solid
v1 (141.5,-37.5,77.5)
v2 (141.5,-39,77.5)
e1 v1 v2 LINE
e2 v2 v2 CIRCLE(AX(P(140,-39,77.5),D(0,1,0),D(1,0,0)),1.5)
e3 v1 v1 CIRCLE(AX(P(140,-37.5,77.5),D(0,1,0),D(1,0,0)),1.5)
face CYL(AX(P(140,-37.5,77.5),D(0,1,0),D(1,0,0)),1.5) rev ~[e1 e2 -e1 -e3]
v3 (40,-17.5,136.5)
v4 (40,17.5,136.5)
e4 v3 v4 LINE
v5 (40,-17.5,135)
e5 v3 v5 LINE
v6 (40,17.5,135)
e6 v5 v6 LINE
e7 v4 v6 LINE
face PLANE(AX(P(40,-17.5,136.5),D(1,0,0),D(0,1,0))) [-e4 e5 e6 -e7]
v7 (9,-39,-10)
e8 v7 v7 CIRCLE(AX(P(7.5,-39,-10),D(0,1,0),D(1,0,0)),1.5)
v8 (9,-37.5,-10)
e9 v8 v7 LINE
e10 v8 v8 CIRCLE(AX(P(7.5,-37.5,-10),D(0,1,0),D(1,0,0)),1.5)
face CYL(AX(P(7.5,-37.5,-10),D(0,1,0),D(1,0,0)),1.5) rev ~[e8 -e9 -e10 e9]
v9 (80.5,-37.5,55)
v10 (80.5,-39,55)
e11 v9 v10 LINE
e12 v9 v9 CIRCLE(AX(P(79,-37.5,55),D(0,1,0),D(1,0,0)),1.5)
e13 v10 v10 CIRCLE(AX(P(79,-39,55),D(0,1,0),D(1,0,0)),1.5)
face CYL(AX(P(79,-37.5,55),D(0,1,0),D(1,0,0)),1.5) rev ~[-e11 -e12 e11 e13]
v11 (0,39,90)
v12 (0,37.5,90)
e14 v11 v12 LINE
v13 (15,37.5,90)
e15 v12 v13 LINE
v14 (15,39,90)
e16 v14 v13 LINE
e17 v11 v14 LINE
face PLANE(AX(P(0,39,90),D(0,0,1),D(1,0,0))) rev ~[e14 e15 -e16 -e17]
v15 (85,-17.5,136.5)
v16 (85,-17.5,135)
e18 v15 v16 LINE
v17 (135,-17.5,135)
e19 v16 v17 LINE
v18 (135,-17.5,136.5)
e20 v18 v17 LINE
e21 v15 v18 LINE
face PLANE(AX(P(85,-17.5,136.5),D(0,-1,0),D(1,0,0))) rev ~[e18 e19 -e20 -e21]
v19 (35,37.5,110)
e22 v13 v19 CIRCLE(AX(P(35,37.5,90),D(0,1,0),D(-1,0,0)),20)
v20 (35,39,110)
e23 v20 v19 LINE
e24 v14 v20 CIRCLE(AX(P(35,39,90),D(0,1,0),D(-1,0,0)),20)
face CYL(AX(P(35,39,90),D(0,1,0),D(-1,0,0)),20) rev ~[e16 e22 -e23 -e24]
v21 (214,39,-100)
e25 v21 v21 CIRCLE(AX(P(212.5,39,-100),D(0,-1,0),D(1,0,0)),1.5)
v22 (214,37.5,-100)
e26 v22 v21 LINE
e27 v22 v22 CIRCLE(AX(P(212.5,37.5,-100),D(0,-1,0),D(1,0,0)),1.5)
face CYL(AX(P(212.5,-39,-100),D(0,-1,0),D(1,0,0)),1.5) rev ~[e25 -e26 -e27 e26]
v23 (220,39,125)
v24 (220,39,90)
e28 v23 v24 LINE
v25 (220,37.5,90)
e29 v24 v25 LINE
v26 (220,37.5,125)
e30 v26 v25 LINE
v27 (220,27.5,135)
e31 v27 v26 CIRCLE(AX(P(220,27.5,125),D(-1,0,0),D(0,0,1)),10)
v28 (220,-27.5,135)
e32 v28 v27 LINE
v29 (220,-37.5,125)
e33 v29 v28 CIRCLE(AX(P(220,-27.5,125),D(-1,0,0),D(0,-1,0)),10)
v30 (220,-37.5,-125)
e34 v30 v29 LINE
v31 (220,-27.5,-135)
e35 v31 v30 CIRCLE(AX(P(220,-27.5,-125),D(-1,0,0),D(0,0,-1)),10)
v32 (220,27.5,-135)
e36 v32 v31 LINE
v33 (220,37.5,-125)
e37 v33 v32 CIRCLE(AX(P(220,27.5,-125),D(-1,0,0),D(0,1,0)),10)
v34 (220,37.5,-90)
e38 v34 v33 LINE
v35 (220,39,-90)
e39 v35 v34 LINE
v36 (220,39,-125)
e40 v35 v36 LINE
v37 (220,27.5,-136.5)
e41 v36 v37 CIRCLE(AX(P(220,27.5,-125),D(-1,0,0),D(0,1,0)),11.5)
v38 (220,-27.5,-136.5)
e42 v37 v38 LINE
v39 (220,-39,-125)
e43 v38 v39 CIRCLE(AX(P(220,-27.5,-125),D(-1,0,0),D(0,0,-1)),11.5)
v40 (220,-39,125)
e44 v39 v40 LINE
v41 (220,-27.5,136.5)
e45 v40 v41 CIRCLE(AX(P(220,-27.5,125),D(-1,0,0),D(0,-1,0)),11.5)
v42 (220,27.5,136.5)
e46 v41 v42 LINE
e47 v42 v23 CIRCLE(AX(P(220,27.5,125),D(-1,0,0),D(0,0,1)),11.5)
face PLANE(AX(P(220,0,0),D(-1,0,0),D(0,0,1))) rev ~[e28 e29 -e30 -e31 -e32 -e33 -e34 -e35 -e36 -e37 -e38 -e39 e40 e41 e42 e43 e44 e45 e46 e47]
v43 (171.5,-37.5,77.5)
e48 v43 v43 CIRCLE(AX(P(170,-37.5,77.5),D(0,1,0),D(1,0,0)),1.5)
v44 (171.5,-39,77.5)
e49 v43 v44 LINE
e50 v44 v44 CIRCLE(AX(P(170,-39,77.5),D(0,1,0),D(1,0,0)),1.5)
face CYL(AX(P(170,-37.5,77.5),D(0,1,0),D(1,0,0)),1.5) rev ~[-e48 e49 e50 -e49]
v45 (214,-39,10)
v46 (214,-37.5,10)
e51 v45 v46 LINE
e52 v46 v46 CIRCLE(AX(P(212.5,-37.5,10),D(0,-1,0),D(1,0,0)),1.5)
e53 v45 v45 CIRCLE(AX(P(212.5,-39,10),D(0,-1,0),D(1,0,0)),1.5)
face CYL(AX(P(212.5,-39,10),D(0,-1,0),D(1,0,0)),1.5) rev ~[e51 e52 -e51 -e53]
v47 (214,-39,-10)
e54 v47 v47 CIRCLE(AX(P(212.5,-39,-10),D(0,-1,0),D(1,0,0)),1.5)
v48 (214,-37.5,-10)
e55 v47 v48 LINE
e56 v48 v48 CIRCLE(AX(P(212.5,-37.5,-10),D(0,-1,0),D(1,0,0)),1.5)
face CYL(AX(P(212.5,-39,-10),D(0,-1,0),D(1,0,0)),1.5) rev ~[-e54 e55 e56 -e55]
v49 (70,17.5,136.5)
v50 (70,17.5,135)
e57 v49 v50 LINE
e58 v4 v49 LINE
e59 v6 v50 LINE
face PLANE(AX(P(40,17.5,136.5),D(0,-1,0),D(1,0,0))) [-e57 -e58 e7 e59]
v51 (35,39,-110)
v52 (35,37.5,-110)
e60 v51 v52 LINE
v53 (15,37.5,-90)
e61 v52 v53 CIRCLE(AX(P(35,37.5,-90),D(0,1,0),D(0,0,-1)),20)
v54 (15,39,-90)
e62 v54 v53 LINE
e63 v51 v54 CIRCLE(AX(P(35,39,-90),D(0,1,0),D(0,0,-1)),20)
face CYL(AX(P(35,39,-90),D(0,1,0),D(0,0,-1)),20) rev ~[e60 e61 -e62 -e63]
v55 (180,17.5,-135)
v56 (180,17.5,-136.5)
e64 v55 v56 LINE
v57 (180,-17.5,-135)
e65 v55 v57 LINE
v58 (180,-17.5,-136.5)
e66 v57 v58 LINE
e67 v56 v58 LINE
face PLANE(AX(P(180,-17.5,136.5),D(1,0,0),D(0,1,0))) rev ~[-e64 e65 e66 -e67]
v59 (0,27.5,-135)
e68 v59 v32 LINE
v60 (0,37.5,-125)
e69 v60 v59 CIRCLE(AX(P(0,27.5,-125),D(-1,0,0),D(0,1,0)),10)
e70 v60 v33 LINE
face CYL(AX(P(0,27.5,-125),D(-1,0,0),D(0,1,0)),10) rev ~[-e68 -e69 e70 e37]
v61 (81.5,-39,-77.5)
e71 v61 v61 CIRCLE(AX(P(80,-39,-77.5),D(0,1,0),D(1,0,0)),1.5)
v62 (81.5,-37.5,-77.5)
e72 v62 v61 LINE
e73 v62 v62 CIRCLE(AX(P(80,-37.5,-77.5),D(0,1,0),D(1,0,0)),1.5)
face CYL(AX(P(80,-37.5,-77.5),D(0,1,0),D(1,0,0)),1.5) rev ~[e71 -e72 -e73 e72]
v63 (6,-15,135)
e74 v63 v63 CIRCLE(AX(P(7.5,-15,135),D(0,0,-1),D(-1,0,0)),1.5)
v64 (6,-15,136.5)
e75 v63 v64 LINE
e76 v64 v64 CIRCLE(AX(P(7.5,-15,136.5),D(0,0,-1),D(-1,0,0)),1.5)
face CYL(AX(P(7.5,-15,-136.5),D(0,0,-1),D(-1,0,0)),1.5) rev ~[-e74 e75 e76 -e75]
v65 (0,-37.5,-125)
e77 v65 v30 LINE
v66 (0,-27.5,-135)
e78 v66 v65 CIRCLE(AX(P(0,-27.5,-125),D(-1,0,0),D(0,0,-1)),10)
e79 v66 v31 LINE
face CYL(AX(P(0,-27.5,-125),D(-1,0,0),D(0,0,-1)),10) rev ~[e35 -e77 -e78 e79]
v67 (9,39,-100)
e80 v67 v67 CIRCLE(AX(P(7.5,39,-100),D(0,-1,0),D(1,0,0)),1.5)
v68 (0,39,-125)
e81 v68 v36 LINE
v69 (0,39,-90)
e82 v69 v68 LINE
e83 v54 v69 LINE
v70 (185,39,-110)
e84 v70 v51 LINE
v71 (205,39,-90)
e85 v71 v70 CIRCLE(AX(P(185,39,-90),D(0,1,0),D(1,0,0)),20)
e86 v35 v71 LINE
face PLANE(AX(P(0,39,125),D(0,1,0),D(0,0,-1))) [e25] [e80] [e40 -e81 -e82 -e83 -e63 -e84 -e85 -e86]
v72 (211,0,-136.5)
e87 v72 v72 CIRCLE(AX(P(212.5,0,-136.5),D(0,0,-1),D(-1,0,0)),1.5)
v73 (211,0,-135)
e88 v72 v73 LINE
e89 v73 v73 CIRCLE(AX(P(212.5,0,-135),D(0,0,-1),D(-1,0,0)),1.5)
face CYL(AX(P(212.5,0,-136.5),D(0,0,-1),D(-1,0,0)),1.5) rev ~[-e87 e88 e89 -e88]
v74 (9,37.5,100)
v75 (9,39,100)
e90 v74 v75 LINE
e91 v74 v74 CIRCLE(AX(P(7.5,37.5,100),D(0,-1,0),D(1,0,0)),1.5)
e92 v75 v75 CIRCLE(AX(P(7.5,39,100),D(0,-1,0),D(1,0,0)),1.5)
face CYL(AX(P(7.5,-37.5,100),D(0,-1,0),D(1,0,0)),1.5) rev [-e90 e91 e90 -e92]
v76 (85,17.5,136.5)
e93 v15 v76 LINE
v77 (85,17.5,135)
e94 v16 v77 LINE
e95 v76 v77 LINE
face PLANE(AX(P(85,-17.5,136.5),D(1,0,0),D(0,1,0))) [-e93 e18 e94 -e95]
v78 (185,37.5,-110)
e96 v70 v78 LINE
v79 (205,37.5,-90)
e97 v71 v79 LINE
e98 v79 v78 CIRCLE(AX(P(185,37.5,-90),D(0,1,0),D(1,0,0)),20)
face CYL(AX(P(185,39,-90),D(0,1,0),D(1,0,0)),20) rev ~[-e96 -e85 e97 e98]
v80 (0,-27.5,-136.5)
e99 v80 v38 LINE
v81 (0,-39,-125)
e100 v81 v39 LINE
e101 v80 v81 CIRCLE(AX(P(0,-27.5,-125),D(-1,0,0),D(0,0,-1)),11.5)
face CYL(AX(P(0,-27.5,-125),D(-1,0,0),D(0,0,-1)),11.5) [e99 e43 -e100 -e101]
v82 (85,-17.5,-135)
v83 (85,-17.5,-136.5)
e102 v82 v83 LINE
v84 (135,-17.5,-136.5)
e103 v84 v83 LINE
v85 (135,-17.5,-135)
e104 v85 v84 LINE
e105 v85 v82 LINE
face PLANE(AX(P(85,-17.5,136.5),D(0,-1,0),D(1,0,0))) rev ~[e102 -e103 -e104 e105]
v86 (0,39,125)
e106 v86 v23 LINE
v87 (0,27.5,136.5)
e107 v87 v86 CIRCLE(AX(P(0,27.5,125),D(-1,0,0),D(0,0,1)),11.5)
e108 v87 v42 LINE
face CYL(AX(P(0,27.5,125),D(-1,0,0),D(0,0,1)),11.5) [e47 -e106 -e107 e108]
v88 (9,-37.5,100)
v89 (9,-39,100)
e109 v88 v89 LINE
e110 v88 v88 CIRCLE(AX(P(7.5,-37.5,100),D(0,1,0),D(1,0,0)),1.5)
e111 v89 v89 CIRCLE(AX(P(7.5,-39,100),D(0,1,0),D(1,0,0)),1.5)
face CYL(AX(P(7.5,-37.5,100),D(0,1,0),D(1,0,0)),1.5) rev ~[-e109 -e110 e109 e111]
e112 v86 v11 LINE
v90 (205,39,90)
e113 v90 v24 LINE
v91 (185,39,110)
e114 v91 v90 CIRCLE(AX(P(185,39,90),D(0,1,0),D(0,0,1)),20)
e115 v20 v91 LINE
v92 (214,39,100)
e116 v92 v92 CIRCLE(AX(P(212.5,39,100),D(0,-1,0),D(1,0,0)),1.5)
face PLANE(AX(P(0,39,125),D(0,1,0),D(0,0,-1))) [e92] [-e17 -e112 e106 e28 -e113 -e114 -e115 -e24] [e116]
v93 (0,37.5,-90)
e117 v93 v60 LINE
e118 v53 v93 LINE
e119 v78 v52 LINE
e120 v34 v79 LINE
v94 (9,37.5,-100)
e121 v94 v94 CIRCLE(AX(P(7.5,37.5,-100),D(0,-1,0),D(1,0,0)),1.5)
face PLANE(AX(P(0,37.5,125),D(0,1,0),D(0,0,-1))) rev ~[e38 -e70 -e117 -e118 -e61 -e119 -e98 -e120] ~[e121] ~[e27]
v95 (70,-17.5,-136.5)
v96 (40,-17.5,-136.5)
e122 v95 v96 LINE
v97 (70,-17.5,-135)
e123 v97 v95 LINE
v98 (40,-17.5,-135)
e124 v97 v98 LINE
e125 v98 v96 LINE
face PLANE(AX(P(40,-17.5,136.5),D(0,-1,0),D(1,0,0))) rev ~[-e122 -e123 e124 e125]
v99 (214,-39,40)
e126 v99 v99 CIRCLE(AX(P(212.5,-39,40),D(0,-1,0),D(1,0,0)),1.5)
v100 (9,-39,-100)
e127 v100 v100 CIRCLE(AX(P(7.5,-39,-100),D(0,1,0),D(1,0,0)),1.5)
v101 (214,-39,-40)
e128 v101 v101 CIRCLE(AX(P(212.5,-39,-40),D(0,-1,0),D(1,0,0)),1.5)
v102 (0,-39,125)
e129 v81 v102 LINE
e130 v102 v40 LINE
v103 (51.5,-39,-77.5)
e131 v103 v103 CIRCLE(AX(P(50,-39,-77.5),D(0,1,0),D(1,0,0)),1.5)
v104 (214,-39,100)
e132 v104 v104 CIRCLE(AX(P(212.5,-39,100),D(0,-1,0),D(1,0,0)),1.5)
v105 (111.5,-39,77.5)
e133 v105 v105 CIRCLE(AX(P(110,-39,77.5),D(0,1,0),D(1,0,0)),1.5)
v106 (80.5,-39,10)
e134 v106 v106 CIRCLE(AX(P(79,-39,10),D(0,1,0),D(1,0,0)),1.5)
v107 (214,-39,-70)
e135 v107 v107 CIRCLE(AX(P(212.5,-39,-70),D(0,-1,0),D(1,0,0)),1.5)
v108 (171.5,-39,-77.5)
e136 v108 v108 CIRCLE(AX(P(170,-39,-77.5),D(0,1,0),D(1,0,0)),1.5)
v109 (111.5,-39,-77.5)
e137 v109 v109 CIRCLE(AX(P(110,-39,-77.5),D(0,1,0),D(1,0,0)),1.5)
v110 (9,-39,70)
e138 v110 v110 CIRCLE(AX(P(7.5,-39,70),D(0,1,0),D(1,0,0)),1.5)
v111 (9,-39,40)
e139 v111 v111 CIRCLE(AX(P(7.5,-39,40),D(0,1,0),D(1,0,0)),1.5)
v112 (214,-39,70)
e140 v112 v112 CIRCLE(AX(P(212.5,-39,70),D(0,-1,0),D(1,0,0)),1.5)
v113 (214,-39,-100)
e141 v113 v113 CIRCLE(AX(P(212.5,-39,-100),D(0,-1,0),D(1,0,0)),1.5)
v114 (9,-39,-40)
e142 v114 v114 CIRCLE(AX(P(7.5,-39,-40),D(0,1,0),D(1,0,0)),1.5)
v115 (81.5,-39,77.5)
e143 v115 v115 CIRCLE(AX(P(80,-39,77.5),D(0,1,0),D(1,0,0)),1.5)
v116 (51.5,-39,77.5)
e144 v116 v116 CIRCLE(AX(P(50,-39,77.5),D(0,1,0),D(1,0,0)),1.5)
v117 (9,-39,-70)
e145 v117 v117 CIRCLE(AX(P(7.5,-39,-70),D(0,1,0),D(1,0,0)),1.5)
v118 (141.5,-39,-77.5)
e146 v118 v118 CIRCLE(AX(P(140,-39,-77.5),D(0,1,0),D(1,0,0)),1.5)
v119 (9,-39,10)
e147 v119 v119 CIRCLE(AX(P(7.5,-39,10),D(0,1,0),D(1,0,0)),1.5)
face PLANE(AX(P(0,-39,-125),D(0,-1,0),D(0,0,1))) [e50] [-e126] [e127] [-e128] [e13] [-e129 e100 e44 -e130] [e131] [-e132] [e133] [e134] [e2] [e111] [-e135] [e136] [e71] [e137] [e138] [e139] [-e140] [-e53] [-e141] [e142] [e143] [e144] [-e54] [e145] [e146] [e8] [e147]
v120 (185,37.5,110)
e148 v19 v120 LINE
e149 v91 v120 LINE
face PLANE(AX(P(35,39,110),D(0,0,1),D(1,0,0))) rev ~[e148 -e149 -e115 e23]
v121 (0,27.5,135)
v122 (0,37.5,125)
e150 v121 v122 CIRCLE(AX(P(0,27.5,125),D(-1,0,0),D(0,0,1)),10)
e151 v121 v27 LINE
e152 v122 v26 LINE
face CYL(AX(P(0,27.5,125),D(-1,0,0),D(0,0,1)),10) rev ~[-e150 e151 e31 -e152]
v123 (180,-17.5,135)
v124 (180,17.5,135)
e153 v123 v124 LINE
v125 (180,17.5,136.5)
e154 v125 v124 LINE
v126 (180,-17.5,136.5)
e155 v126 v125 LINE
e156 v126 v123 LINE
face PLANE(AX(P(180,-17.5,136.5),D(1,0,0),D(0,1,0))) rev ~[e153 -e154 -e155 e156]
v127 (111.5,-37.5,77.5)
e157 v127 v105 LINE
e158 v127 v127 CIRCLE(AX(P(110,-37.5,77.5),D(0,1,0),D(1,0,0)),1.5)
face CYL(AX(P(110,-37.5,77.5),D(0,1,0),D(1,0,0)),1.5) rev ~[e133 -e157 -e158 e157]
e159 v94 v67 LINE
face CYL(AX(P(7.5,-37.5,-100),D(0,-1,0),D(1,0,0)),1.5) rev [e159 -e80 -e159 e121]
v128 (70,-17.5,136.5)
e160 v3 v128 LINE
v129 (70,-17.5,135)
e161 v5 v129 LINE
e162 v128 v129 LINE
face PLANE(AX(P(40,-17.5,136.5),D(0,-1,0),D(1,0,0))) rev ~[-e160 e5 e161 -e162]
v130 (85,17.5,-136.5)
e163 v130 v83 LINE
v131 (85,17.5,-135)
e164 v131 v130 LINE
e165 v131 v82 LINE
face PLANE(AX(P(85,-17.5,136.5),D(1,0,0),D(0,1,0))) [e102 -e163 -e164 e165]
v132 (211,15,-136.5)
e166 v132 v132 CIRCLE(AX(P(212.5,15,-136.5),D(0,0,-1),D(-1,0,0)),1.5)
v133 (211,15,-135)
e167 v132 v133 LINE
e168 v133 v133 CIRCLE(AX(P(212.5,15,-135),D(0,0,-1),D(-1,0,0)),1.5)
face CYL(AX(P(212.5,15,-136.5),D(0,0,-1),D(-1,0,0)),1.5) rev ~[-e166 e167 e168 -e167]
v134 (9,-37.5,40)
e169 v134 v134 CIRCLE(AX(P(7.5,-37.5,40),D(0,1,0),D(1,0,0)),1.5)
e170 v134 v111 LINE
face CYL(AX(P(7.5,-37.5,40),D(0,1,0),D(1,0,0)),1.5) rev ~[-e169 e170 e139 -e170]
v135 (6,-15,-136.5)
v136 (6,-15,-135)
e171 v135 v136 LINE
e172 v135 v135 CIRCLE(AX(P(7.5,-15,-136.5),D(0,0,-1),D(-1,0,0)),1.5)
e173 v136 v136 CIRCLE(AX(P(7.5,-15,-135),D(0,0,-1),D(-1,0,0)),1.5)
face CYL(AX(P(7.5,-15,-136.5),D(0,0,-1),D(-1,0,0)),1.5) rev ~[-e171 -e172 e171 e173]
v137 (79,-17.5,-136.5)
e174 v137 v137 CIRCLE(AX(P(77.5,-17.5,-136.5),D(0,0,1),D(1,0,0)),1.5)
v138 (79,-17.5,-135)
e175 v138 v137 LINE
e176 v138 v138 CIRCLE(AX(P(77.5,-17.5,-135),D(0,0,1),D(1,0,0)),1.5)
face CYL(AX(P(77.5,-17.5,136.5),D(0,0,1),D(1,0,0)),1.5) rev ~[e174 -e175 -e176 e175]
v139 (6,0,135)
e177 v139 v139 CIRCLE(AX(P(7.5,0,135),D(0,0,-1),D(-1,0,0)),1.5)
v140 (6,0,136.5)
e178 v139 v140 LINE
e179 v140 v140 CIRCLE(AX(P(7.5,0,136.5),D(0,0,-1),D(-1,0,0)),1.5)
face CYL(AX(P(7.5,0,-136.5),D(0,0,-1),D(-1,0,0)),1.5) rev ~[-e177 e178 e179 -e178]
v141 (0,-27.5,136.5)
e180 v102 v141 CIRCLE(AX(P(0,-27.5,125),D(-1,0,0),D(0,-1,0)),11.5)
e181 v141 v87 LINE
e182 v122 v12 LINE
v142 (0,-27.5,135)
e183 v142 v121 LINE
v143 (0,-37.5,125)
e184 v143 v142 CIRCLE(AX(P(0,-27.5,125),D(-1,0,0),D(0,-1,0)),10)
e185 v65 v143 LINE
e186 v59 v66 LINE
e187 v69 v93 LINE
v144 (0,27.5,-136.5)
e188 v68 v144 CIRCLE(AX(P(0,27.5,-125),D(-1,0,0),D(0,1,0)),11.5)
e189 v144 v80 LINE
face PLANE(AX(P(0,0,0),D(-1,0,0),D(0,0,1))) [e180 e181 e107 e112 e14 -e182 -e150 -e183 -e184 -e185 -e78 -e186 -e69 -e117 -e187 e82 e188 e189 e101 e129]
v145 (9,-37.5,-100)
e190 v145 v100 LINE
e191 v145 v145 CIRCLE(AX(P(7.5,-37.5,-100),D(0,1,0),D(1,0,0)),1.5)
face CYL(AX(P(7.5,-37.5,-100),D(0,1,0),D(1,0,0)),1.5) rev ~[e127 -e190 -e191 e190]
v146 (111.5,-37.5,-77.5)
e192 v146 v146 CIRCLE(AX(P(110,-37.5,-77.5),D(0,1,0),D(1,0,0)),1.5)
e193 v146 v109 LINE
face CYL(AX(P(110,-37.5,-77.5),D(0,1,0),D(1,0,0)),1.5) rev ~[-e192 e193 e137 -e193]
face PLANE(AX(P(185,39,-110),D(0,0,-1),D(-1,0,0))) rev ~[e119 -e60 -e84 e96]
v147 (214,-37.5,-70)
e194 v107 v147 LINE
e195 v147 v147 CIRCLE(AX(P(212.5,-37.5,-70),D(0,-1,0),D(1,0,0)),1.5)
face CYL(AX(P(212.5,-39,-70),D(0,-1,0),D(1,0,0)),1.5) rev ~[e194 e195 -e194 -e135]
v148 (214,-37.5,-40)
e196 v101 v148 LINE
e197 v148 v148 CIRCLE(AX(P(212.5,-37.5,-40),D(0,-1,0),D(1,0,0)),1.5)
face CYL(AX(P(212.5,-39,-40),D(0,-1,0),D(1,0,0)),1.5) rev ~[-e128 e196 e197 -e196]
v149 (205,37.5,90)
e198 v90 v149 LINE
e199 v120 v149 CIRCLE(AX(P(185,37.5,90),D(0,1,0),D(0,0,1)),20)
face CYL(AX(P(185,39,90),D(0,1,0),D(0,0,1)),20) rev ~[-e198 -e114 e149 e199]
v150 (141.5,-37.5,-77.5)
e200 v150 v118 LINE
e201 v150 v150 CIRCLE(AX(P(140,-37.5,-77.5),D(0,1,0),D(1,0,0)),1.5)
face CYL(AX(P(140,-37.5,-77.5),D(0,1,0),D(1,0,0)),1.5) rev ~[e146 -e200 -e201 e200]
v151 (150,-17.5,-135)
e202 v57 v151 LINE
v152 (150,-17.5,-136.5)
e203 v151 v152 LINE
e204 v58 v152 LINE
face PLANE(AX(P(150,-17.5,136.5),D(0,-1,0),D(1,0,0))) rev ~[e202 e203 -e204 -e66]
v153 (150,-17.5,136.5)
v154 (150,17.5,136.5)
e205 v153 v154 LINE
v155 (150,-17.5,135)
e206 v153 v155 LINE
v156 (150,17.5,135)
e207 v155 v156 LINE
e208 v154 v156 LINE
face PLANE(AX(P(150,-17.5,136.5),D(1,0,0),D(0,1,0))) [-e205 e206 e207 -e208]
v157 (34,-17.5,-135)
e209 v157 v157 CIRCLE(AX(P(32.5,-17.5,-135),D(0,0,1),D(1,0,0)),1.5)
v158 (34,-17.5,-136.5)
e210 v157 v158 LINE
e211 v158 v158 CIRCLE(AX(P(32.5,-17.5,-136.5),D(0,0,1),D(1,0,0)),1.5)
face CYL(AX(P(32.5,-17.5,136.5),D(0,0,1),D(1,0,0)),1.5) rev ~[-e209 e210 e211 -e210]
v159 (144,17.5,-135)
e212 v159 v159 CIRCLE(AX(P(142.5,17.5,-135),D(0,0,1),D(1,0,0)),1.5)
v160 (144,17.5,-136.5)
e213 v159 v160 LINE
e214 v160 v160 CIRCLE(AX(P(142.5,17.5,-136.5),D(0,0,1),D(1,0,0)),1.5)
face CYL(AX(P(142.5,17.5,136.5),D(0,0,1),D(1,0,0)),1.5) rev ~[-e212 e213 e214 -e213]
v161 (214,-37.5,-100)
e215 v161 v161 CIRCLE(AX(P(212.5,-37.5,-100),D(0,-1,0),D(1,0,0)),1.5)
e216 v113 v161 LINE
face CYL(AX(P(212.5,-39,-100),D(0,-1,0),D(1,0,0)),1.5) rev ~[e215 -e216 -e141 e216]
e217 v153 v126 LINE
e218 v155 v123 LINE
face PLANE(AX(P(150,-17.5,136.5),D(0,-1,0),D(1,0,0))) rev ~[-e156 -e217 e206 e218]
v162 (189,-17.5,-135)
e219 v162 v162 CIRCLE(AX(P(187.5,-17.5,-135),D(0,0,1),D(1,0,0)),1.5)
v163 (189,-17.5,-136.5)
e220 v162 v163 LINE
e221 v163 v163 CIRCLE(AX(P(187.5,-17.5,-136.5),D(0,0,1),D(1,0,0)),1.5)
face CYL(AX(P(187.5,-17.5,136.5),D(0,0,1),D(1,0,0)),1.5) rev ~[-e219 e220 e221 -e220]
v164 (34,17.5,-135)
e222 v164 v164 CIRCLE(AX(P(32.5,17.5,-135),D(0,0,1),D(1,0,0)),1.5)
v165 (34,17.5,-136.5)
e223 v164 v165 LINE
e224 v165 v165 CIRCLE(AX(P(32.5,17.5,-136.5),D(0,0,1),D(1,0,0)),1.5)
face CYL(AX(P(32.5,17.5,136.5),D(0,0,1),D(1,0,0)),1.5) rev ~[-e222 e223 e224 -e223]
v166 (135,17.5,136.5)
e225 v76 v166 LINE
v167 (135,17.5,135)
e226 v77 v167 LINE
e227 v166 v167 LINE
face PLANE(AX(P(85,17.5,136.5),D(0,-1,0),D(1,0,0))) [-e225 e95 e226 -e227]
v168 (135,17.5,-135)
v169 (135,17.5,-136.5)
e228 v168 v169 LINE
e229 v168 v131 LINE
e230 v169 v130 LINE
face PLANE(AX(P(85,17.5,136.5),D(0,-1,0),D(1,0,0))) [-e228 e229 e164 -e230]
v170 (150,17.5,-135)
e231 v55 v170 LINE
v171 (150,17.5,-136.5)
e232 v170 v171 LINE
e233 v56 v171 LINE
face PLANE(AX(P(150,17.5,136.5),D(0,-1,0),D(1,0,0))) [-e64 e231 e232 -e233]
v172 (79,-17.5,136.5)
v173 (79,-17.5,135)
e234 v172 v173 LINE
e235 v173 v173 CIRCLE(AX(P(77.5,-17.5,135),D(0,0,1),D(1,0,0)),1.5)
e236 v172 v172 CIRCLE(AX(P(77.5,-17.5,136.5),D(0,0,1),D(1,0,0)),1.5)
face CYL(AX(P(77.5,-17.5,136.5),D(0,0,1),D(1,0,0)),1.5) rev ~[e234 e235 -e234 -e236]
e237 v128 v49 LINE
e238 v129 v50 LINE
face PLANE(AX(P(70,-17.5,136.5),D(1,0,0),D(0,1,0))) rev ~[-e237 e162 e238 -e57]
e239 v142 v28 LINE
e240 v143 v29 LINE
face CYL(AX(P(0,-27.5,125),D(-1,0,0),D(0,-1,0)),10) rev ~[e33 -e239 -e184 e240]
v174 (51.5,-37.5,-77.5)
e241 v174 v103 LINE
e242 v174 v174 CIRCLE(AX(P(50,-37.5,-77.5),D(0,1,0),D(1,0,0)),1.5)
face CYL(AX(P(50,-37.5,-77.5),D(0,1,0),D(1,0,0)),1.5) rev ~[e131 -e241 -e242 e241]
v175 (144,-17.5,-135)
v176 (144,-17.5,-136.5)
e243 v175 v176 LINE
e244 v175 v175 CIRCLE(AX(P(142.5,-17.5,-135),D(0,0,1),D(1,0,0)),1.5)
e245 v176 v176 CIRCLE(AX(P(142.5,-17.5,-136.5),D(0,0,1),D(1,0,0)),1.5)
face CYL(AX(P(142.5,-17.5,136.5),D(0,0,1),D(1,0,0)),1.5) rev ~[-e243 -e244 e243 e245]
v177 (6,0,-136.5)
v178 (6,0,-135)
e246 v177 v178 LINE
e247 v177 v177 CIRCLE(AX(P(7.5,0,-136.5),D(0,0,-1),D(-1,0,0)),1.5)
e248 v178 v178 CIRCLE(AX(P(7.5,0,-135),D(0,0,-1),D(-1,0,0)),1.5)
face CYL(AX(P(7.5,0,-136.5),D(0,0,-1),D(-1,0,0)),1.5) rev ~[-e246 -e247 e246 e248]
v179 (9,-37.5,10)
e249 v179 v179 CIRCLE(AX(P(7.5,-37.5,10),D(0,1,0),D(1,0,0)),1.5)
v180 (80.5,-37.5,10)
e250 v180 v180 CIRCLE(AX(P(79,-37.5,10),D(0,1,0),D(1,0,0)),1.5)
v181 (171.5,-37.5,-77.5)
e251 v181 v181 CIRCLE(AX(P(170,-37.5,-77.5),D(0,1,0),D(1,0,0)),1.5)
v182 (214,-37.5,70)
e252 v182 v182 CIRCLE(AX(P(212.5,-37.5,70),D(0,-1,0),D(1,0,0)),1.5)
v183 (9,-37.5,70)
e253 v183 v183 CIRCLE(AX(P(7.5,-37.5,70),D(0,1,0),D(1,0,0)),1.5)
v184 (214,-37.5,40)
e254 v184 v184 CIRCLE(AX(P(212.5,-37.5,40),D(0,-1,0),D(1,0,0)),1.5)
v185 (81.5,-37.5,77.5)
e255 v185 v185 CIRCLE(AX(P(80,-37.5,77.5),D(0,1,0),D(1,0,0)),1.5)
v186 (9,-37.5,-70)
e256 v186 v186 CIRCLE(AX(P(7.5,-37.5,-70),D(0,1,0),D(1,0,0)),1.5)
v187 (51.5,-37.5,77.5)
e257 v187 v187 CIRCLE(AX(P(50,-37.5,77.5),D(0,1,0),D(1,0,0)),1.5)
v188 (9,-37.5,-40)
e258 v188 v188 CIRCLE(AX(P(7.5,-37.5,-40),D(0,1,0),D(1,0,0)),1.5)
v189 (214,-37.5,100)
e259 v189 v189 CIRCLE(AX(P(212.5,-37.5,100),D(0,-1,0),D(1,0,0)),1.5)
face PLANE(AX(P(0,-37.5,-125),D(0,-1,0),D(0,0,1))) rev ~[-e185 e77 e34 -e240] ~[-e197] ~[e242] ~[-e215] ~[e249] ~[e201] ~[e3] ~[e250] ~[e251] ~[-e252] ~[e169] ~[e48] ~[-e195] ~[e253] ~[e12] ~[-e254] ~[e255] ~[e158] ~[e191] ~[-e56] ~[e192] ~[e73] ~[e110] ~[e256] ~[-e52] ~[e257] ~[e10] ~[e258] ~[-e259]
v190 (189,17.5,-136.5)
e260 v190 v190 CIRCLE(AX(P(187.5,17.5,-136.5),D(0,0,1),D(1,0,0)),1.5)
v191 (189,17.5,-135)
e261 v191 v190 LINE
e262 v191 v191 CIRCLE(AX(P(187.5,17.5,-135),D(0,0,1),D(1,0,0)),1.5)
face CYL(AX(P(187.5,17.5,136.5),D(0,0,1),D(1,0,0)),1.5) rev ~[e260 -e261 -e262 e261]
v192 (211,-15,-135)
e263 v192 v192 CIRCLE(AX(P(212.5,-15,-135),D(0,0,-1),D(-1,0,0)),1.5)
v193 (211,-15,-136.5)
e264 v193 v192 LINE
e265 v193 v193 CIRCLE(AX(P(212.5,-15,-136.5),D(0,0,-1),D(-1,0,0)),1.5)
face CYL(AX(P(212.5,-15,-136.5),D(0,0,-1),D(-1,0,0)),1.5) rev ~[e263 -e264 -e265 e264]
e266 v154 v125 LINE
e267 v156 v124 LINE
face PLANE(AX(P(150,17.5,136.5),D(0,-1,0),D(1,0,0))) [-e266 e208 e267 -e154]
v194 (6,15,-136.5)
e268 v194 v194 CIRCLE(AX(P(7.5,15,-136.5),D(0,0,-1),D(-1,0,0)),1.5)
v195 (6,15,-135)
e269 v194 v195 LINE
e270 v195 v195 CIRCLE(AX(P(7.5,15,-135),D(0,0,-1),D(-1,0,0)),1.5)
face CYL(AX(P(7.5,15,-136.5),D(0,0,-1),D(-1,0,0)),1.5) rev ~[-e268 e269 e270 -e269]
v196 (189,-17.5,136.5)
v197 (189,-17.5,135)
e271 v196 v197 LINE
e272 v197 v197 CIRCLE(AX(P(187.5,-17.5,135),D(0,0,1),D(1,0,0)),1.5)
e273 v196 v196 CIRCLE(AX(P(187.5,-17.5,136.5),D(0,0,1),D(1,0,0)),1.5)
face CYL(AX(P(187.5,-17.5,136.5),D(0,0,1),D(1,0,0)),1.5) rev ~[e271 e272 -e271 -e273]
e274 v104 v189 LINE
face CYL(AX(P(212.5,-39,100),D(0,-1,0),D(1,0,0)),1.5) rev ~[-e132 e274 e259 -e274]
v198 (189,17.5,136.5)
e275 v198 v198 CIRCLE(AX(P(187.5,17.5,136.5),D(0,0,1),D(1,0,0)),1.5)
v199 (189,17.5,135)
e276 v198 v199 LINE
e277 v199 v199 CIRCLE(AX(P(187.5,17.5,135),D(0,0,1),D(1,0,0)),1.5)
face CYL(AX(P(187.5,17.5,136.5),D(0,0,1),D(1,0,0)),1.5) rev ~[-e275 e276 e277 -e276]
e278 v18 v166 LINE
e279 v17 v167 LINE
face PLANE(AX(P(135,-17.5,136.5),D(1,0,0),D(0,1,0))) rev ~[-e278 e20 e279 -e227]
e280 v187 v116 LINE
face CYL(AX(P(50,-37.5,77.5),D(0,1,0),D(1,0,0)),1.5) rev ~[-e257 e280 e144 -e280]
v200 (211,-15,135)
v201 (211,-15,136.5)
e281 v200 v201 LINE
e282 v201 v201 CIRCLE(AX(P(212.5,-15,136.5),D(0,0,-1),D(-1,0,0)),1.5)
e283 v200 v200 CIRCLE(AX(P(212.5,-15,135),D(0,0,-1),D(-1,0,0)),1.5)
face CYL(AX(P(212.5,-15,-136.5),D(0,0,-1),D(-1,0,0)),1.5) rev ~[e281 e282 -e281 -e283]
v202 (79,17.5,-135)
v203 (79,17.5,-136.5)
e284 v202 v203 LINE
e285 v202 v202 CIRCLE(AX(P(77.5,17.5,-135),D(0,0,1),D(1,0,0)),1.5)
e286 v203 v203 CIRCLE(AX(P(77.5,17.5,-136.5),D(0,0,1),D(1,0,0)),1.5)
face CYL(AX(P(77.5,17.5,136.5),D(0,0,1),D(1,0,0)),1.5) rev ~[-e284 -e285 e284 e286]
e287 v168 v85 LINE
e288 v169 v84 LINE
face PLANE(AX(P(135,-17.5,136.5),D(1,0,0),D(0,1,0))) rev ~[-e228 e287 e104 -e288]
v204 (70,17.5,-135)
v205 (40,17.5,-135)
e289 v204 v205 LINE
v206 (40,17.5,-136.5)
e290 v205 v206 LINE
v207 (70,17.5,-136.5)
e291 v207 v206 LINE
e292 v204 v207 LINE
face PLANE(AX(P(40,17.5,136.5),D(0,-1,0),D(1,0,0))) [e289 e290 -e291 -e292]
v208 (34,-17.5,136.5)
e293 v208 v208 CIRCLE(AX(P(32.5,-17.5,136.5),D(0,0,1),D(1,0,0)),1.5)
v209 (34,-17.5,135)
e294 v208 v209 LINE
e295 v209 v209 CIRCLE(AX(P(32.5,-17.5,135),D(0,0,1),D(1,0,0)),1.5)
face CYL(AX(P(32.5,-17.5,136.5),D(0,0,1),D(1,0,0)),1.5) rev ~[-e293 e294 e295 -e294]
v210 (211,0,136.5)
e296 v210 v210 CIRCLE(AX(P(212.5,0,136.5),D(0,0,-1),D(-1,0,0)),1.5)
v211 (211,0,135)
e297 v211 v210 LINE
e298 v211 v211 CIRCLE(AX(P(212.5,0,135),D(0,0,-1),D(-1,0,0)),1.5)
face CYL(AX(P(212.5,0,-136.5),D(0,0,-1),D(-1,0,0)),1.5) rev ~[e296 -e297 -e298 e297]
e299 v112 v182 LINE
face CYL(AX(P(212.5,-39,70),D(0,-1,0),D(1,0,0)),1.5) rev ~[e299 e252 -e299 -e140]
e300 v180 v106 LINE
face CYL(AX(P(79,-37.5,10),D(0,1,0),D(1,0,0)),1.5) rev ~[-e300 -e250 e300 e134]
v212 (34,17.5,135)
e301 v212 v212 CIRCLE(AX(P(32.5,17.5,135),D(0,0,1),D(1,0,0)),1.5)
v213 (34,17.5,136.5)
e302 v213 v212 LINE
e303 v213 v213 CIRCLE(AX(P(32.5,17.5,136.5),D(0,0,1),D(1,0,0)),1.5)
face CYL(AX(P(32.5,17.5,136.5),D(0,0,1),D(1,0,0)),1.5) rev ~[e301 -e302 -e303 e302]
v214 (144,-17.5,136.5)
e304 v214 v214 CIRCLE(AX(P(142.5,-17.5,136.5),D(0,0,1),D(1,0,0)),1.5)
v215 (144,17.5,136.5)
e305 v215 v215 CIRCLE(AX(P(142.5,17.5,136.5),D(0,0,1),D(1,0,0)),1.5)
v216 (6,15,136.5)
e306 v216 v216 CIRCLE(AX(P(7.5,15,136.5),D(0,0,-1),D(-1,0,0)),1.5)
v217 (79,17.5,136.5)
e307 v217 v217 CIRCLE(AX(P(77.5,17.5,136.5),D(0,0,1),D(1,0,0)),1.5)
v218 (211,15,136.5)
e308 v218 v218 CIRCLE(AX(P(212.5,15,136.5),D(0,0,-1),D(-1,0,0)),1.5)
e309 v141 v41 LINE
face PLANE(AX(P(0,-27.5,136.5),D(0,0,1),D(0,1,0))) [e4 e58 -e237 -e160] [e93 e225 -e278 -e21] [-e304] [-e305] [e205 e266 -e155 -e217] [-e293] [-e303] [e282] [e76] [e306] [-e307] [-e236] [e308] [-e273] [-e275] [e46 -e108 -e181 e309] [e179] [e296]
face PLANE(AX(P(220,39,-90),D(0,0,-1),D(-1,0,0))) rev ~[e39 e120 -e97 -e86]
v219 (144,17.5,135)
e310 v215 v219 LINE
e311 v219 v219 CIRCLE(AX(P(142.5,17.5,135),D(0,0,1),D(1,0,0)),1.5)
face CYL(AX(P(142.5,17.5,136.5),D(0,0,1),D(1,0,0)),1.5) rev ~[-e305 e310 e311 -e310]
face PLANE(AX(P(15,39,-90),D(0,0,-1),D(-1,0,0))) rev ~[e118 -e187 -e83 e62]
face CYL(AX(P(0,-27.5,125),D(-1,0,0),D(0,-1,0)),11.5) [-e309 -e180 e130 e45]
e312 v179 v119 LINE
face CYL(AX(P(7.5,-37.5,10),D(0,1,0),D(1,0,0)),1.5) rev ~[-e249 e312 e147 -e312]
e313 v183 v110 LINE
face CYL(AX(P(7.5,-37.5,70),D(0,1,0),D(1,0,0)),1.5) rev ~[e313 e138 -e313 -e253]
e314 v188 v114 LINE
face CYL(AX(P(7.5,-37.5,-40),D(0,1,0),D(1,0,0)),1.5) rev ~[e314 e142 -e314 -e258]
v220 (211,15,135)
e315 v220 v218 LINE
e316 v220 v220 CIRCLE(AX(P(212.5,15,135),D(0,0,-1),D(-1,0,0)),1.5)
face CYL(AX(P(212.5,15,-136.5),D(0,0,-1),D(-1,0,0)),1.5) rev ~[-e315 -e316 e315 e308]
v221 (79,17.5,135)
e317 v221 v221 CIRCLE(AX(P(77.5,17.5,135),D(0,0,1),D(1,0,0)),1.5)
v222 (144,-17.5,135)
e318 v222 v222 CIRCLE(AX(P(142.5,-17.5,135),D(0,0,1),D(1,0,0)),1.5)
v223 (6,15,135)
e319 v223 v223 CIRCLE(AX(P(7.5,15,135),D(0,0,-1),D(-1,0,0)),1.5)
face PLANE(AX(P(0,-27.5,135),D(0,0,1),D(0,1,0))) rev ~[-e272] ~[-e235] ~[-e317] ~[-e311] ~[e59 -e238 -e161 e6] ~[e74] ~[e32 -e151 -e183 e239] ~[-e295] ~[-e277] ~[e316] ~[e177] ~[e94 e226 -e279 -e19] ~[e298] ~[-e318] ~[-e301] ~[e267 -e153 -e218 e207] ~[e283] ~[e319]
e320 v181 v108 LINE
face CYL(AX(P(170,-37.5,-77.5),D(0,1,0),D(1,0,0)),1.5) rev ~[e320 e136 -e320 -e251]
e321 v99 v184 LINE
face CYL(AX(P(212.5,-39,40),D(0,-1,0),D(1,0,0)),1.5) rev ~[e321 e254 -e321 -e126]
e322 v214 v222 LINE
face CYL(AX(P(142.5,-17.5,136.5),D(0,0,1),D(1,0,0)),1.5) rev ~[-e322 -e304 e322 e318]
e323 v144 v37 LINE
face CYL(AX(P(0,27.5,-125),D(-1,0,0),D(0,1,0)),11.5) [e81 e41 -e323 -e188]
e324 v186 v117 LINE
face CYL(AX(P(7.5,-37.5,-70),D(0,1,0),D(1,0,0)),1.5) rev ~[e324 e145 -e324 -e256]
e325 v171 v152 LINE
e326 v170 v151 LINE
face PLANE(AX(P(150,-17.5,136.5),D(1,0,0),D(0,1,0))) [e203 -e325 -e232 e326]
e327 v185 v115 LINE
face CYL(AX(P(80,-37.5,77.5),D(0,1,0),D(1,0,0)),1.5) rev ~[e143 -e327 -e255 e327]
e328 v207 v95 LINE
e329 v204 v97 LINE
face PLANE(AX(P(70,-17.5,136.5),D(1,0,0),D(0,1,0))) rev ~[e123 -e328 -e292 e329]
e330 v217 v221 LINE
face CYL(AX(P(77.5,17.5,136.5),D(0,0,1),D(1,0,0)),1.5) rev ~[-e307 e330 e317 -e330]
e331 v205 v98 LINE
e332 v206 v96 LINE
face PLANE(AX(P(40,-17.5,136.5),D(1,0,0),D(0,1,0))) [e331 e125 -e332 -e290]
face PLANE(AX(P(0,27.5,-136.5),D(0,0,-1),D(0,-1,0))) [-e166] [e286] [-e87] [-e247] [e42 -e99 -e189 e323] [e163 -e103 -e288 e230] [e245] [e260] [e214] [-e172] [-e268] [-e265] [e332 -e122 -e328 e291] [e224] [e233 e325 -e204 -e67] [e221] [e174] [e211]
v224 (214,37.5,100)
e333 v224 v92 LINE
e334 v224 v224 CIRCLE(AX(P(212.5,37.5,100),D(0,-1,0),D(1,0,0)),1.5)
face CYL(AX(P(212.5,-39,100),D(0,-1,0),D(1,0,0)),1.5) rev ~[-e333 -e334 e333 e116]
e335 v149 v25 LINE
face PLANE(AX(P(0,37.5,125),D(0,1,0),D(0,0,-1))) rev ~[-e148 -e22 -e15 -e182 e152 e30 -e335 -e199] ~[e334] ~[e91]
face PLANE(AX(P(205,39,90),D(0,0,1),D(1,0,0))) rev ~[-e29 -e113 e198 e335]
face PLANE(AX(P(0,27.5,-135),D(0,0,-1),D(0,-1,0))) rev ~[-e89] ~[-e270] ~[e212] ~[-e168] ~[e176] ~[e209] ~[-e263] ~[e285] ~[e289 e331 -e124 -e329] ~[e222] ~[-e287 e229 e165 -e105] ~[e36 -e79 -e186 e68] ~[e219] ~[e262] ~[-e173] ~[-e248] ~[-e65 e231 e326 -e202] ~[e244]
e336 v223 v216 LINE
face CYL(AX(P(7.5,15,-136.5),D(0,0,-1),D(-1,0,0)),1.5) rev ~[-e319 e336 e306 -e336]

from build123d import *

# Parameters (mm, degrees)
BOSS_EXTRUDE1_DEPTH     = 220
CUT_EXTRUDE1_DEPTH      = 10
SKETCH3_R               = 1.5
SKETCH3_W               = 30
SKETCH3_H               = 35
SKETCH3_W_2             = 50
CUT_EXTRUDE2_DEPTH      = 274
SKETCH5_R               = 1.5
CUT_EXTRUDE3_DEPTH      = 10
SKETCH6_R               = 1.5
CUT_EXTRUDE4_DEPTH      = 10
SKETCH7_R               = 1.5
CUT_EXTRUDE5_DEPTH      = 77.5
CUT_EXTRUDE5_DEPTH_BACK = 2.5
SKETCH8_R               = 1.5
CUT_EXTRUDE6_DEPTH      = 79
SKETCH9_R               = 1.5
CUT_EXTRUDE7_DEPTH      = 274


with BuildPart() as part:
    # Sketch1 → Boss-Extrude1 (new body)
    with BuildSketch(Plane(origin=(0, 0, 0), x_dir=(0, 0, -1), z_dir=(1, 0, 0))):
        with BuildLine():
            Line((-125, 39), (125, 39))
            ThreePointArc((125, 39), (133.131727984, 35.631727984), (136.5, 27.5))
            Line((136.5, 27.5), (136.5, -27.5))
            ThreePointArc((136.5, -27.5), (133.131727984, -35.631727984), (125, -39))
            Line((125, -39), (-125, -39))
            ThreePointArc((-125, -39), (-133.131727984, -35.631727984), (-136.5, -27.5))
            Line((-136.5, -27.5), (-136.5, 27.5))
            ThreePointArc((-136.5, 27.5), (-133.131727984, 35.631727984), (-125, 39))
        make_face()
        with BuildLine():
            Line((-125, 37.5), (125, 37.5))
            ThreePointArc((125, 37.5), (132.071067812, 34.571067812), (135, 27.5))
            Line((135, 27.5), (135, -27.5))
            ThreePointArc((135, -27.5), (132.071067812, -34.571067812), (125, -37.5))
            Line((125, -37.5), (-125, -37.5))
            ThreePointArc((-125, -37.5), (-132.071067812, -34.571067812), (-135, -27.5))
            Line((-135, -27.5), (-135, 27.5))
            ThreePointArc((-135, 27.5), (-132.071067812, 34.571067812), (-125, 37.5))
        make_face(mode=Mode.SUBTRACT)
    extrude(amount=BOSS_EXTRUDE1_DEPTH)

    # Sketch2 → Cut-Extrude1 (cut)
    with BuildSketch(Plane(origin=(0, 39, 0), x_dir=(1, 0, 0), z_dir=(0, 1, 0))):
        with BuildLine():
            Line((15, 90), (0, 90))
            Line((0, 90), (0, -90))
            Line((0, -90), (15, -90))
            ThreePointArc((15, -90), (20.857864376, -104.142135624), (35, -110))
            Line((35, -110), (185, -110))
            ThreePointArc((185, -110), (199.142135624, -104.142135624), (205, -90))
            Line((205, -90), (220, -90))
            Line((220, -90), (220, 90))
            Line((220, 90), (205, 90))
            ThreePointArc((205, 90), (199.142135624, 104.142135624), (185, 110))
            Line((185, 110), (35, 110))
            ThreePointArc((35, 110), (20.857864376, 104.142135624), (15, 90))
        make_face()
    extrude(amount=-CUT_EXTRUDE1_DEPTH, mode=Mode.SUBTRACT)

    # Sketch3 → Cut-Extrude2 (cut, through all)
    with BuildSketch(Plane.XY.offset(136.5)):
        with Locations((77.5, 17.5)):
            Circle(SKETCH3_R)
        with Locations((77.5, -17.5)):
            Circle(SKETCH3_R)
        with Locations((142.5, 17.5)):
            Circle(SKETCH3_R)
        with Locations((142.5, -17.5)):
            Circle(SKETCH3_R)
        with Locations((32.5, 17.5)):
            Circle(SKETCH3_R)
        with Locations((32.5, -17.5)):
            Circle(SKETCH3_R)
        with Locations((187.5, 17.5)):
            Circle(SKETCH3_R)
        with Locations((187.5, -17.5)):
            Circle(SKETCH3_R)
        with Locations((55, 0)):
            Rectangle(SKETCH3_W, SKETCH3_H)
        with Locations((165, 0)):
            Rectangle(SKETCH3_W, SKETCH3_H)
        with Locations((110, 0)):
            Rectangle(SKETCH3_W_2, SKETCH3_H)
    extrude(amount=-CUT_EXTRUDE2_DEPTH, mode=Mode.SUBTRACT)

    # Sketch5 → Cut-Extrude3 (cut)
    with BuildSketch(Plane(origin=(0, -37.5, 0), x_dir=(1, 0, 0), z_dir=(0, 1, 0))):
        with Locations((79, -55)):
            Circle(SKETCH5_R)
        with Locations((79, -10)):
            Circle(SKETCH5_R)
    extrude(amount=-CUT_EXTRUDE3_DEPTH, mode=Mode.SUBTRACT)

    # Sketch6 → Cut-Extrude4 (cut)
    with BuildSketch(Plane(origin=(0, -37.5, 0), x_dir=(1, 0, 0), z_dir=(0, 1, 0))):
        with Locations((110, -77.5)):
            Circle(SKETCH6_R)
        with Locations((140, -77.5)):
            Circle(SKETCH6_R)
        with Locations((170, -77.5)):
            Circle(SKETCH6_R)
        with Locations((80, -77.5)):
            Circle(SKETCH6_R)
        with Locations((50, -77.5)):
            Circle(SKETCH6_R)
        with Locations((110, 77.5)):
            Circle(SKETCH6_R)
        with Locations((140, 77.5)):
            Circle(SKETCH6_R)
        with Locations((170, 77.5)):
            Circle(SKETCH6_R)
        with Locations((80, 77.5)):
            Circle(SKETCH6_R)
        with Locations((50, 77.5)):
            Circle(SKETCH6_R)
    extrude(amount=-CUT_EXTRUDE4_DEPTH, mode=Mode.SUBTRACT)

    # Sketch7 → Cut-Extrude5 (cut, two sides)
    with BuildSketch(Plane(origin=(0, -37.5, 0), x_dir=(1, 0, 0), z_dir=(0, 1, 0))) as cut_extrude5_sk:
        with Locations((7.5, 10)):
            Circle(SKETCH7_R)
        with Locations((7.5, -10)):
            Circle(SKETCH7_R)
        with Locations((7.5, -40)):
            Circle(SKETCH7_R)
        with Locations((7.5, -70)):
            Circle(SKETCH7_R)
        with Locations((7.5, -100)):
            Circle(SKETCH7_R)
        with Locations((7.5, 40)):
            Circle(SKETCH7_R)
        with Locations((7.5, 70)):
            Circle(SKETCH7_R)
        with Locations((7.5, 100)):
            Circle(SKETCH7_R)
    extrude(amount=CUT_EXTRUDE5_DEPTH, mode=Mode.SUBTRACT)
    extrude(cut_extrude5_sk.sketch, amount=-CUT_EXTRUDE5_DEPTH_BACK, mode=Mode.SUBTRACT)

    # Sketch8 → Cut-Extrude6 (cut, through all)
    with BuildSketch(Plane.XZ.offset(39)):
        with Locations((212.5, 10)):
            Circle(SKETCH8_R)
        with Locations((212.5, -10)):
            Circle(SKETCH8_R)
        with Locations((212.5, -40)):
            Circle(SKETCH8_R)
        with Locations((212.5, -70)):
            Circle(SKETCH8_R)
        with Locations((212.5, -100)):
            Circle(SKETCH8_R)
        with Locations((212.5, 40)):
            Circle(SKETCH8_R)
        with Locations((212.5, 70)):
            Circle(SKETCH8_R)
        with Locations((212.5, 100)):
            Circle(SKETCH8_R)
    extrude(amount=-CUT_EXTRUDE6_DEPTH, mode=Mode.SUBTRACT)

    # Sketch9 → Cut-Extrude7 (cut, through all)
    with BuildSketch(Plane(origin=(0, 0, -136.5), x_dir=(-1, 0, 0), z_dir=(0, 0, -1))):
        with Locations((-7.5, 0)):
            Circle(SKETCH9_R)
        with Locations((-7.5, 15)):
            Circle(SKETCH9_R)
        with Locations((-7.5, -15)):
            Circle(SKETCH9_R)
        with Locations((-212.5, 0)):
            Circle(SKETCH9_R)
        with Locations((-212.5, 15)):
            Circle(SKETCH9_R)
        with Locations((-212.5, -15)):
            Circle(SKETCH9_R)
    extrude(amount=-CUT_EXTRUDE7_DEPTH, mode=Mode.SUBTRACT)


solid = part.part
